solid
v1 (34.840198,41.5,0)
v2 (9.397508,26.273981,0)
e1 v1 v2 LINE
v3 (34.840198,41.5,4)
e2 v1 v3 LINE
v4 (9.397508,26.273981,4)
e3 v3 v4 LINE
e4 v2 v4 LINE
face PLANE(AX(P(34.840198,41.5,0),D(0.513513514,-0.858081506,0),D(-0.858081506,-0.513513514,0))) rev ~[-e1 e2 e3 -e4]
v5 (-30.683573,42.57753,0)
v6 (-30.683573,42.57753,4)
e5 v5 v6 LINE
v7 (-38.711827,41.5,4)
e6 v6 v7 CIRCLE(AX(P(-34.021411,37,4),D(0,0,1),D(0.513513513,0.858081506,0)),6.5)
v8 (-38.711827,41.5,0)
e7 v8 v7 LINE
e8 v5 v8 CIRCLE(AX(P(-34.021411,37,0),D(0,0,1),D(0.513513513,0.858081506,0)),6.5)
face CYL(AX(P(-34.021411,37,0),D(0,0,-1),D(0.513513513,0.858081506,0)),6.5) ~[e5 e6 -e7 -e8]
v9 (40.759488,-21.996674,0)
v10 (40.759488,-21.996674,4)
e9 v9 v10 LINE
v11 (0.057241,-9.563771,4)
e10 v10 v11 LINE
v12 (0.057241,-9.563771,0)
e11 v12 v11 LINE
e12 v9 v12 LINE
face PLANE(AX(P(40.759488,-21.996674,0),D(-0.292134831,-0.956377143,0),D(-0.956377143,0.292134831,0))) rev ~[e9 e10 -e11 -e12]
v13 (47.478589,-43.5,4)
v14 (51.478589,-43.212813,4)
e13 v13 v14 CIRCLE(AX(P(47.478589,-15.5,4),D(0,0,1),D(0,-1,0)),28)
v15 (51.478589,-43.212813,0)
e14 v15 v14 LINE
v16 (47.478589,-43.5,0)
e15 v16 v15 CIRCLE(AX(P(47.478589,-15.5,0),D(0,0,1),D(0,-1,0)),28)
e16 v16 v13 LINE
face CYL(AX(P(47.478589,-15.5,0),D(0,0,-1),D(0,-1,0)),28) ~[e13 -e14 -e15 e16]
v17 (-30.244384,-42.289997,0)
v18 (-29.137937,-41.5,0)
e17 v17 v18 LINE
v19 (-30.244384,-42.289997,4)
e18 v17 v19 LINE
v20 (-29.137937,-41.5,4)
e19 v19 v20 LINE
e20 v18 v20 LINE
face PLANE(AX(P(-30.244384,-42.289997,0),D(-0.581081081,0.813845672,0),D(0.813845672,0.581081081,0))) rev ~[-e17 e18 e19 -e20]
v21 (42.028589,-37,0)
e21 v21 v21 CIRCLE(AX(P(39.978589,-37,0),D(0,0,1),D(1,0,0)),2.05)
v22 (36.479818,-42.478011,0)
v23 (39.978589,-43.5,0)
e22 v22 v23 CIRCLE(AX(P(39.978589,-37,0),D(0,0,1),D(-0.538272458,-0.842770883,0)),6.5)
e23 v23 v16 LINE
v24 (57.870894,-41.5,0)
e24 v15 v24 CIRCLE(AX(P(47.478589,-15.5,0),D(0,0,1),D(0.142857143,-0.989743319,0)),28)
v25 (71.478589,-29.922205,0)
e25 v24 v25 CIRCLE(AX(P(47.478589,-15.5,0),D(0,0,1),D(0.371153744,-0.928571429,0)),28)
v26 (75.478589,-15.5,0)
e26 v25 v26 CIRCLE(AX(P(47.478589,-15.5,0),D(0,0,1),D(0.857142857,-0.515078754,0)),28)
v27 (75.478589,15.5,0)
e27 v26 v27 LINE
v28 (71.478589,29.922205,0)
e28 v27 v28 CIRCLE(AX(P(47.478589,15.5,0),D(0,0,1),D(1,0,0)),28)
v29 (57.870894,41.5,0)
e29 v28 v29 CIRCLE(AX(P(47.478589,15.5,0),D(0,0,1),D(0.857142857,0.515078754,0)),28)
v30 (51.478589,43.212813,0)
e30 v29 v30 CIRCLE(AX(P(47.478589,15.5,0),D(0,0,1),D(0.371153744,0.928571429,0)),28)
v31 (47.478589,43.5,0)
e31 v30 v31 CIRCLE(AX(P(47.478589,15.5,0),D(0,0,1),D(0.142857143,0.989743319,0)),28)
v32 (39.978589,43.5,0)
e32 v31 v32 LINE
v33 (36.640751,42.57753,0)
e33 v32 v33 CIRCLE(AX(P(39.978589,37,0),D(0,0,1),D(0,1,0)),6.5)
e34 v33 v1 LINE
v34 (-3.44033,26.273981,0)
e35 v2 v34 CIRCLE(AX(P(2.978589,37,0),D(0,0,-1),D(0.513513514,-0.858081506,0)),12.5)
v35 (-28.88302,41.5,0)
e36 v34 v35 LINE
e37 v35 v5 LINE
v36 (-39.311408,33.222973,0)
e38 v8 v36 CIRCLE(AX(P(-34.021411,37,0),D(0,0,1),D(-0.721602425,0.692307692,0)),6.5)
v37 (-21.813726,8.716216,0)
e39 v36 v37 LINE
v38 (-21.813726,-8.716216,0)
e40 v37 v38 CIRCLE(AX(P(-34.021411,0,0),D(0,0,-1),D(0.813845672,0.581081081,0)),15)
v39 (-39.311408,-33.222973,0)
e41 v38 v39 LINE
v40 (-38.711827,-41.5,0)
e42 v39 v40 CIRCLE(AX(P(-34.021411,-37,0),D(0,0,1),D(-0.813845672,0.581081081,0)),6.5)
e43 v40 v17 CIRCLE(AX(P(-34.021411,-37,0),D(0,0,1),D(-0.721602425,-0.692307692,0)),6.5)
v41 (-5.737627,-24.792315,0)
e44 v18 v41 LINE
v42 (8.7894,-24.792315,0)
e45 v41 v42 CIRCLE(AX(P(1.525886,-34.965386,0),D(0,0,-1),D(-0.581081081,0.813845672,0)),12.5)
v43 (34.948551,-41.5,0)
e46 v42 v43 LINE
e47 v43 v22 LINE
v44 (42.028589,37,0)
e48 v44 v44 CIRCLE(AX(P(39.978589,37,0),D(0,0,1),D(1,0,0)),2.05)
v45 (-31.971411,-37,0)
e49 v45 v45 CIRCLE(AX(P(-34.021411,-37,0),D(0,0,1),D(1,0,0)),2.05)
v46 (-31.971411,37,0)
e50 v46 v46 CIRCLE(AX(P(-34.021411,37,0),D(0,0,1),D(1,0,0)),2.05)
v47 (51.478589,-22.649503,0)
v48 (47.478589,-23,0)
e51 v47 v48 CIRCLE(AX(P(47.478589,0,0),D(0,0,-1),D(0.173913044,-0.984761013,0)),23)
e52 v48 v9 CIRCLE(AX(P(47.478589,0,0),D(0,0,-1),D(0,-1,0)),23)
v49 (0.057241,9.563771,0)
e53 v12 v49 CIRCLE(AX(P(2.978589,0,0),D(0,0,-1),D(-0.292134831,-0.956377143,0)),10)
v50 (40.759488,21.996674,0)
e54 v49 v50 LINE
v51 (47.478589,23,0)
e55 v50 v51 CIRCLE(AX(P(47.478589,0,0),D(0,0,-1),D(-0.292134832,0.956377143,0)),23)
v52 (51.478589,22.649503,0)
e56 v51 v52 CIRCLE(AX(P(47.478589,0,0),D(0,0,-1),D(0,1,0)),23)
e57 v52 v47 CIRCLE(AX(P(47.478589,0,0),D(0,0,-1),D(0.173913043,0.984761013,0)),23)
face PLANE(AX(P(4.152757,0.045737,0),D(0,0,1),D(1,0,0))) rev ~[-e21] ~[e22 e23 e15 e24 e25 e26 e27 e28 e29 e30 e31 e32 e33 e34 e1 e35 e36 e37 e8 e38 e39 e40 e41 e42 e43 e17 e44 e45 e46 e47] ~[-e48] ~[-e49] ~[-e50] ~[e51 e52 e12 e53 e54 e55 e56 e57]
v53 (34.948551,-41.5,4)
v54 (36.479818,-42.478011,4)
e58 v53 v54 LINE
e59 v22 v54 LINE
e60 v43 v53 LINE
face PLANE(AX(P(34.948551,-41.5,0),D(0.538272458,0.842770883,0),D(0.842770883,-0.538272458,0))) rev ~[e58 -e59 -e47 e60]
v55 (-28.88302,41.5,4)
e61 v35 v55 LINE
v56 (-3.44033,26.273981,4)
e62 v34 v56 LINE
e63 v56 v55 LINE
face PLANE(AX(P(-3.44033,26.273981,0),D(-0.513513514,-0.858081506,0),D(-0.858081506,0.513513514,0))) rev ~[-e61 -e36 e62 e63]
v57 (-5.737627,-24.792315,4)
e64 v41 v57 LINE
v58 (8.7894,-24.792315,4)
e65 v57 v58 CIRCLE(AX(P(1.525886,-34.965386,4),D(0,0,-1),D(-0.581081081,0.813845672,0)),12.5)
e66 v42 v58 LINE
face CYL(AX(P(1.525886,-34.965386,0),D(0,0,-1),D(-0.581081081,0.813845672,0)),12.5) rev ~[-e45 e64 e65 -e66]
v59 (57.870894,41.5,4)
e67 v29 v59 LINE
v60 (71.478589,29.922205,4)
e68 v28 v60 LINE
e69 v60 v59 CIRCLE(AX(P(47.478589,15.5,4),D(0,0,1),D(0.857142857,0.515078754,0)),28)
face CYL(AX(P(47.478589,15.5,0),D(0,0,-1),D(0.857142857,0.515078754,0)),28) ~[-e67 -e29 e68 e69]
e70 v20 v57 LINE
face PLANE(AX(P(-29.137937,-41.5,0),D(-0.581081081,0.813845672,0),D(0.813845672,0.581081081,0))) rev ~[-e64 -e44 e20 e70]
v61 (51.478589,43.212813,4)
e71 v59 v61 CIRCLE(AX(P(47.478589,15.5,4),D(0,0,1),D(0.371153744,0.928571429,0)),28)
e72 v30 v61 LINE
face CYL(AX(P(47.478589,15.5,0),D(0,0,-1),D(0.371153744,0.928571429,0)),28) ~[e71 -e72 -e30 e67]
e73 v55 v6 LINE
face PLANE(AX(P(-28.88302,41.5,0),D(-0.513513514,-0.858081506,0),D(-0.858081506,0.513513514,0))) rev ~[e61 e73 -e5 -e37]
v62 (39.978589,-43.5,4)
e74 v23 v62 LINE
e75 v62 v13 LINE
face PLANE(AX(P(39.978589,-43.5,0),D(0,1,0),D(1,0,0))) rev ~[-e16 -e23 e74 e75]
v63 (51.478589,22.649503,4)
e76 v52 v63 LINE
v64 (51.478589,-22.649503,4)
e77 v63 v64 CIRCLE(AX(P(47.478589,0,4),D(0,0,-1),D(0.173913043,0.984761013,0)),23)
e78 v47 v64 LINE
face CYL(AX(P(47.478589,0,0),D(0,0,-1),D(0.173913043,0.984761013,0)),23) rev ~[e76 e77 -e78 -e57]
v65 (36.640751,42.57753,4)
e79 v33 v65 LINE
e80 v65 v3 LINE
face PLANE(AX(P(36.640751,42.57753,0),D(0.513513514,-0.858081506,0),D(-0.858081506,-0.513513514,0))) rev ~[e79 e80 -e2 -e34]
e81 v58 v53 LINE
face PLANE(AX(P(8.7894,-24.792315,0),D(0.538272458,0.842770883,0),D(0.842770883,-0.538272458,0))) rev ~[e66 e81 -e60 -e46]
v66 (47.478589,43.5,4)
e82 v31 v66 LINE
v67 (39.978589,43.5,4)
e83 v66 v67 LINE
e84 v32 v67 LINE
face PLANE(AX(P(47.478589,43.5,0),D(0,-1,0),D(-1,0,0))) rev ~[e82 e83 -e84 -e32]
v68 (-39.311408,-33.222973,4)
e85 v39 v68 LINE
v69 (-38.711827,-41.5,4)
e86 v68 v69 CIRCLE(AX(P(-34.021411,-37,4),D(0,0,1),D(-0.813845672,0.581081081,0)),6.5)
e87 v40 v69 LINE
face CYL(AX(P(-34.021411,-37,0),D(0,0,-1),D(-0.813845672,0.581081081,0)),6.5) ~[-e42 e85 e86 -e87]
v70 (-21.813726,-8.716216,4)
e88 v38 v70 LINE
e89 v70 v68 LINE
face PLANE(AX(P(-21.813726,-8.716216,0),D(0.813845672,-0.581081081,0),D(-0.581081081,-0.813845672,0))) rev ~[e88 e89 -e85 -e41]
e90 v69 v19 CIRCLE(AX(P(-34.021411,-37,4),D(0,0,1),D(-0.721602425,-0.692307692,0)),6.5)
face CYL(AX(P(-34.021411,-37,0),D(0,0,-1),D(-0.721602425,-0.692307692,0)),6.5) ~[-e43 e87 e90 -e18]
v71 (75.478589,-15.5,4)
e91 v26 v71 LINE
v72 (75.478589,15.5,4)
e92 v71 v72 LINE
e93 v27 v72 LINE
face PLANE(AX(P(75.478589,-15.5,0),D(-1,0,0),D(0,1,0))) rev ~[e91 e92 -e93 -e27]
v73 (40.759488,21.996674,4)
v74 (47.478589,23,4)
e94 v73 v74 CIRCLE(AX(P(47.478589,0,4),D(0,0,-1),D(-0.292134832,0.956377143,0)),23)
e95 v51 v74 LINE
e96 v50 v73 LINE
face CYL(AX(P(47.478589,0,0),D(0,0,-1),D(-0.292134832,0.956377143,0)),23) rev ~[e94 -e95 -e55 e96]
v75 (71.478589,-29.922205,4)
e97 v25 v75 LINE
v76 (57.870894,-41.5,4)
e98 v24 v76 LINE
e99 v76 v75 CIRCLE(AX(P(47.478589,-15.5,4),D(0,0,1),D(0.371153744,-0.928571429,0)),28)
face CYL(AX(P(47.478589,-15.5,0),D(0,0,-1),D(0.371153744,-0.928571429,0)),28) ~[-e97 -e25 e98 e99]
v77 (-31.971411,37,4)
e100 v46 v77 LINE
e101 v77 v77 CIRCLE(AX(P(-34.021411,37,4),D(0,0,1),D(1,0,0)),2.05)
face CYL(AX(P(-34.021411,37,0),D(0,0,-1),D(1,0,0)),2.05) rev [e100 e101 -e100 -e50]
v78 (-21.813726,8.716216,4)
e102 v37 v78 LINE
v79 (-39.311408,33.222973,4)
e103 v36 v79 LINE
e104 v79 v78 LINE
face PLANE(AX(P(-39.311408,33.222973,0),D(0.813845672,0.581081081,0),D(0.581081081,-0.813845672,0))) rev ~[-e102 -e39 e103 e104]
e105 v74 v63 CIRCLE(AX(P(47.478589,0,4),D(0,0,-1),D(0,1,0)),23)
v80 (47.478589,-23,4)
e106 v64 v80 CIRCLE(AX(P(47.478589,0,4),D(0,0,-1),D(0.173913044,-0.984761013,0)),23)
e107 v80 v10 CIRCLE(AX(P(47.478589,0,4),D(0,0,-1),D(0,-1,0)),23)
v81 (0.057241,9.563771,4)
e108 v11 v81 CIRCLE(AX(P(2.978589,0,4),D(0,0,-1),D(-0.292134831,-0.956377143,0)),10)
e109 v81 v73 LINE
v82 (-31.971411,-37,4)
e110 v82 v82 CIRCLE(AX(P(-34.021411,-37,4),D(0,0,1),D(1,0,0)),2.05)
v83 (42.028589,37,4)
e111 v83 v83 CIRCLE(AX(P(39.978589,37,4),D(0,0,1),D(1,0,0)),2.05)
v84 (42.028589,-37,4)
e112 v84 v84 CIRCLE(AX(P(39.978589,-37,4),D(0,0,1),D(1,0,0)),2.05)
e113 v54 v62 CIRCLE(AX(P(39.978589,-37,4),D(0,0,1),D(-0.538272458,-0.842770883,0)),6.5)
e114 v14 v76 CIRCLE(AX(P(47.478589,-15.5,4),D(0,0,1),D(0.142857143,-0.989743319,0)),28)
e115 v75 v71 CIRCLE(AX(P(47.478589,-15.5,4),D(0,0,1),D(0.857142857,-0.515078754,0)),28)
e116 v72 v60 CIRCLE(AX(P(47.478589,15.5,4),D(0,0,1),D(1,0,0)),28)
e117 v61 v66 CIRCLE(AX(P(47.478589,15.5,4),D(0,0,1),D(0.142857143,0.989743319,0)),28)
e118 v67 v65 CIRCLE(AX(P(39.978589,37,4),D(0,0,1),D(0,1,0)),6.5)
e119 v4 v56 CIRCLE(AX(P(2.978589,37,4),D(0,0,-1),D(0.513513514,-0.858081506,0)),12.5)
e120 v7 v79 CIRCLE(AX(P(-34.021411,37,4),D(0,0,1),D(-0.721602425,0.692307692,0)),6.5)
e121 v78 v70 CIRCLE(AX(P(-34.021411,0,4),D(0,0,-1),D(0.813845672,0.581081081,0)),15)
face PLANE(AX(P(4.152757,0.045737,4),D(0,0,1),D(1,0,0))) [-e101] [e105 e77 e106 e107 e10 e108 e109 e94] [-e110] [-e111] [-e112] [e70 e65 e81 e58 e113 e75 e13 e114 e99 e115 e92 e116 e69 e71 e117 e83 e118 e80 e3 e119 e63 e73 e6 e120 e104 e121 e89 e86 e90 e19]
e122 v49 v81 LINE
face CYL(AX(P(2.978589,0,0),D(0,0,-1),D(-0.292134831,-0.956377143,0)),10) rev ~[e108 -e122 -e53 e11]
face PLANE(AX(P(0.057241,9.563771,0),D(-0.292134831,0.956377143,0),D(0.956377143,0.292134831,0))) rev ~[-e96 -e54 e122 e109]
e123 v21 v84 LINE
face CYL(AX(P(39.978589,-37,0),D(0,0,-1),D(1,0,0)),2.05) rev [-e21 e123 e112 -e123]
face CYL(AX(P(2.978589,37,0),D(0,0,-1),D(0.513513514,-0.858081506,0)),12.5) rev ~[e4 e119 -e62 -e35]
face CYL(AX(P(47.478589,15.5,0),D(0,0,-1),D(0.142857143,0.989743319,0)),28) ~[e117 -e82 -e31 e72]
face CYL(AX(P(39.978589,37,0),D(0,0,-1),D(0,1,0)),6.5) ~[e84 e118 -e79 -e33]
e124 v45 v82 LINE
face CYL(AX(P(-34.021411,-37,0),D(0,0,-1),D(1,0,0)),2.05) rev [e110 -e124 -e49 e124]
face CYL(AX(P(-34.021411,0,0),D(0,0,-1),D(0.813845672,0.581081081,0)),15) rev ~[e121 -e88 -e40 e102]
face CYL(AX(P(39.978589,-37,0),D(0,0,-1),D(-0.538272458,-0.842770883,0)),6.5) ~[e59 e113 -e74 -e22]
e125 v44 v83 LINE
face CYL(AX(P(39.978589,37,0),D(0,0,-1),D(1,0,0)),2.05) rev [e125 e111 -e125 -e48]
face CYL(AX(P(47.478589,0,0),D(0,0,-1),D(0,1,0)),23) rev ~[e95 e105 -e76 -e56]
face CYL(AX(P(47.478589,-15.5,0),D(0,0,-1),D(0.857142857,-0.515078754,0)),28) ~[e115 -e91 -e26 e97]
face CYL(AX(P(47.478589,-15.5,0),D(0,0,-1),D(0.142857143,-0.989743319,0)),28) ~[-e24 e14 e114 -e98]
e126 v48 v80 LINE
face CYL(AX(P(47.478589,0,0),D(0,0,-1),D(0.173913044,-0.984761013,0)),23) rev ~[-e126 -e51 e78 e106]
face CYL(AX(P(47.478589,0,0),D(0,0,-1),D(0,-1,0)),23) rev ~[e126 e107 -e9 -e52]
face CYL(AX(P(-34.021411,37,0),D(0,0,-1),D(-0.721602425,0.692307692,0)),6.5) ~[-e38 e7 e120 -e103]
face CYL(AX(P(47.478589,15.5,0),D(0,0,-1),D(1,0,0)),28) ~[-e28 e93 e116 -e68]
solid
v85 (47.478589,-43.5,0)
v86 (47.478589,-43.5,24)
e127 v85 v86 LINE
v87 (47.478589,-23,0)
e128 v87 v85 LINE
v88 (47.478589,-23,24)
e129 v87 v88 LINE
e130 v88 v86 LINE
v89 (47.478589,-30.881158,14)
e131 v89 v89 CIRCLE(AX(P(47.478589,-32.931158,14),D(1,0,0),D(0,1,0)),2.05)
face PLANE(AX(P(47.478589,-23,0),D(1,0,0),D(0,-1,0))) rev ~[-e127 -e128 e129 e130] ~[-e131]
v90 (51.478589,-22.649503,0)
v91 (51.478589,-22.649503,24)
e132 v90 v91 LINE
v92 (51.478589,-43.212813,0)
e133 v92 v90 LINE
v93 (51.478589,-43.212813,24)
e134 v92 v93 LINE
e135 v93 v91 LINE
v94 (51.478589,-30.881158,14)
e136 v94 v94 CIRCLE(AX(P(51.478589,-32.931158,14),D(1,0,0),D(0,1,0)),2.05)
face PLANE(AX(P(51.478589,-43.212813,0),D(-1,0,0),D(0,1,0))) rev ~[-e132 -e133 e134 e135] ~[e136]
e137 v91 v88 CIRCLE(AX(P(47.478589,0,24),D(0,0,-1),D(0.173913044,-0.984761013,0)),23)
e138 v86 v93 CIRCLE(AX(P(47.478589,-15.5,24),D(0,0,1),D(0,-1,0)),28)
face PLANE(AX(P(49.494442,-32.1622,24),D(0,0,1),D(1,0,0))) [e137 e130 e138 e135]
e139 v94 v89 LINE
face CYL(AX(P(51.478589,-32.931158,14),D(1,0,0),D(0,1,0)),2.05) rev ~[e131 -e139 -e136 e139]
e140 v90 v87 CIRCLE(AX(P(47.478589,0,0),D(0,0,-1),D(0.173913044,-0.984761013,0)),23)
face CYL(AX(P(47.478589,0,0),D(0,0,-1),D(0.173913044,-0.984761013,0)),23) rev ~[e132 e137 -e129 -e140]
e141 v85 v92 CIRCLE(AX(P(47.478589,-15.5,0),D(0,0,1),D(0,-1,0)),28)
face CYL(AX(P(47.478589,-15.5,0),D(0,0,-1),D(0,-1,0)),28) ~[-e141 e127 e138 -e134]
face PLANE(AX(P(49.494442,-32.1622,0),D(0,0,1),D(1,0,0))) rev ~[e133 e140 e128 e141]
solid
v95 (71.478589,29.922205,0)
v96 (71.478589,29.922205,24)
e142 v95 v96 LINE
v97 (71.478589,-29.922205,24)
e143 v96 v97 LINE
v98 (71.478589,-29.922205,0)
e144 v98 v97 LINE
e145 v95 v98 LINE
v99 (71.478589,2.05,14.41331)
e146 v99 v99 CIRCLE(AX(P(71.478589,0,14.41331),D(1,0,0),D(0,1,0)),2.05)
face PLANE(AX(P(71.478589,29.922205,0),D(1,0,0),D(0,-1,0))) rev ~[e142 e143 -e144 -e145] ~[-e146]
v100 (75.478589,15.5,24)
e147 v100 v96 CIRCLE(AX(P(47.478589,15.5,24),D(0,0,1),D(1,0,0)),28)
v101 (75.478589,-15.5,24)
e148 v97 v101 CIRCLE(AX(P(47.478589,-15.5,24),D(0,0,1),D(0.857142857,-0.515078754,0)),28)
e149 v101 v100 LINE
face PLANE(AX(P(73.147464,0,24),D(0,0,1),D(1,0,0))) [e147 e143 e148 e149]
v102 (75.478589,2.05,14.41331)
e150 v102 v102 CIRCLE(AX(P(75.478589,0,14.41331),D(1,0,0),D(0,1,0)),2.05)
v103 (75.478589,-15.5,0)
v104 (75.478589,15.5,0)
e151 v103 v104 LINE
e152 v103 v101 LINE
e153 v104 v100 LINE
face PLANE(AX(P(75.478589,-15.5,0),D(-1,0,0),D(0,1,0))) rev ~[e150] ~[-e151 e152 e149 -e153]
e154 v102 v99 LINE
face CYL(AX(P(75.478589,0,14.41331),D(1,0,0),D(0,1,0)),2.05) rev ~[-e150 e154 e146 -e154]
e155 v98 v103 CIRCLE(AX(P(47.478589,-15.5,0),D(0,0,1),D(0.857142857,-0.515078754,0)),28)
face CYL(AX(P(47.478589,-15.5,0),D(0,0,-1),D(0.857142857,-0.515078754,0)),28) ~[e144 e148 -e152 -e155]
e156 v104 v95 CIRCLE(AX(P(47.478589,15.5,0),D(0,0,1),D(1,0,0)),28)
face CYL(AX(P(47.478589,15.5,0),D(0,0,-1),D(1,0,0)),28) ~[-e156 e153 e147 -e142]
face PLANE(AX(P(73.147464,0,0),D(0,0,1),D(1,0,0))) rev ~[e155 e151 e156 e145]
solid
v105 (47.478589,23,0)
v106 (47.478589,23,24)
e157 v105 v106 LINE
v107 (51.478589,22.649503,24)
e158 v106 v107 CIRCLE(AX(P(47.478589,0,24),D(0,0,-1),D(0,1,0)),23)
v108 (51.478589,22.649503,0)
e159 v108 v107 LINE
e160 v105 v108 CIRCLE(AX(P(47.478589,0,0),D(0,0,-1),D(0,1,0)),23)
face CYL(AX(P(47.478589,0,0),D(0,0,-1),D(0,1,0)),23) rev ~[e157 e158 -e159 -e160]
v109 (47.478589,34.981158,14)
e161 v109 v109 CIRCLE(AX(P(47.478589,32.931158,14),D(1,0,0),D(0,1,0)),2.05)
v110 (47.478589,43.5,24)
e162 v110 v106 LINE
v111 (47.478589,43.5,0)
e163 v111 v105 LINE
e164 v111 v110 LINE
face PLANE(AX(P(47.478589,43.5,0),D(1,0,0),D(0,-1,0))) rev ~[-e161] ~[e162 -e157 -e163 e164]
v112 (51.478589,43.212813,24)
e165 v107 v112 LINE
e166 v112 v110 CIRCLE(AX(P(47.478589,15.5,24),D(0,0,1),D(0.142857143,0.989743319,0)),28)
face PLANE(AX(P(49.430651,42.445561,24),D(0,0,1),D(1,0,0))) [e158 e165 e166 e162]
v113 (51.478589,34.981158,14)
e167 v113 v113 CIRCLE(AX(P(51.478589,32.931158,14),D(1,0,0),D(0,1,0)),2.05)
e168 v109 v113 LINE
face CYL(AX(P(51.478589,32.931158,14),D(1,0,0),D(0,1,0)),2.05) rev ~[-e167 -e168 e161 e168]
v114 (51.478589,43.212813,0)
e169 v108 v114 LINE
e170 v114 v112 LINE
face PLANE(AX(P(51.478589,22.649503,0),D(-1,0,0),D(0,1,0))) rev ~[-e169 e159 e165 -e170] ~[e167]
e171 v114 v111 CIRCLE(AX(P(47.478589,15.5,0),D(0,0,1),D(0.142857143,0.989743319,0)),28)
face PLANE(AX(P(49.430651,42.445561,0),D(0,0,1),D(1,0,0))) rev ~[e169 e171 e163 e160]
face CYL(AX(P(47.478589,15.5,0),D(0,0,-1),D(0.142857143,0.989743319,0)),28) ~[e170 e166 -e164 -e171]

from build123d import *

# Parameters (mm, degrees)
F0_R     = 2.05
F1_DEPTH = 4
F2_DEPTH = 24
F3_R     = 2.05
F4_DEPTH = 4
F5_R     = 2.05
F6_DEPTH = 8


with BuildPart() as f1:
    # F0 (on Top) → F1 (new body)
    with BuildSketch(Plane.XY):
        with BuildLine():
            Line((-28.883019991, 41.5), (-38.7118267615, 41.5))
            ThreePointArc((-38.7118267615, 41.5), (-40.5044236613, 37.4696241641), (-39.3114078672, 33.222972973))
            Line((-39.3114078672, 33.222972973), (-21.8137259274, 8.7162162162))
            ThreePointArc((-21.8137259274, 8.7162162162), (-19.0214110017, 0), (-21.8137259274, -8.7162162162))
            Line((-21.8137259274, -8.7162162162), (-39.3114078672, -33.222972973))
            ThreePointArc((-39.3114078672, -33.222972973), (-40.5044236613, -37.4696241641), (-38.7118267615, -41.5))
            Line((-38.7118267615, -41.5), (-29.1379367842, -41.5))
            Line((-29.1379367842, -41.5), (-5.7376272179, -24.7923149257))
            ThreePointArc((-5.7376272179, -24.7923149257), (1.5258862956, -22.465385821), (8.7893998091, -24.7923149257))
            Line((8.7893998091, -24.7923149257), (34.9485507955, -41.5))
            Line((34.9485507955, -41.5), (47.4785889983, -41.5))
            Line((47.4785889983, -41.5), (47.4785889983, -23))
            ThreePointArc((47.4785889983, -23), (44.0817896822, -22.7477857034), (40.7594878747, -21.9966742961))
            Line((40.7594878747, -21.9966742961), (19.4785892543, -15.4962139126))
            Line((19.4785892543, -15.4962139126), (0.0572406837, -9.5637714331))
            ThreePointArc((0.0572406837, -9.5637714331), (-7.0214110017, 0), (0.0572406837, 9.5637714331))
            Line((0.0572406837, 9.5637714331), (19.4785892543, 15.4962139126))
            Line((19.4785892543, 15.4962139126), (40.7594878747, 21.9966742961))
            ThreePointArc((40.7594878747, 21.9966742961), (44.0817896822, 22.7477857034), (47.4785889983, 23))
            Line((47.4785889983, 23), (47.4785889983, 41.5))
            Line((47.4785889983, 41.5), (34.8401979877, 41.5))
            Line((34.8401979877, 41.5), (9.3975079172, 26.2739811714))
            ThreePointArc((9.3975079172, 26.2739811714), (2.9785889983, 24.5), (-3.4403299206, 26.2739811714))
            Line((-3.4403299206, 26.2739811714), (-28.883019991, 41.5))
        make_face()
        with Locations((-34.0214110017, -37)):
            Circle(F0_R, mode=Mode.SUBTRACT)
        with Locations((39.9785889983, -37)):
            Circle(F0_R, mode=Mode.SUBTRACT)
        with Locations((-34.0214110017, 37)):
            Circle(F0_R, mode=Mode.SUBTRACT)
        with Locations((39.9785889983, 37)):
            Circle(F0_R, mode=Mode.SUBTRACT)
        with BuildLine():
            ThreePointArc((-30.6835731638, 42.5775297909), (-34.8860695304, 43.4422329691), (-38.7118267615, 41.5))
            Line((-38.7118267615, 41.5), (-28.883019991, 41.5))
            Line((-28.883019991, 41.5), (-30.6835731638, 42.5775297909))
        make_face()
        with BuildLine():
            Line((-29.1379367842, -41.5), (-38.7118267615, -41.5))
            ThreePointArc((-38.7118267615, -41.5), (-34.62522679, -43.4718935787), (-30.2443839747, -42.2899968655))
            Line((-30.2443839747, -42.2899968655), (-29.1379367842, -41.5))
        make_face()
        with BuildLine():
            Line((36.6407511605, 42.5775297909), (34.8401979877, 41.5))
            Line((34.8401979877, 41.5), (47.4785889983, 41.5))
            Line((47.4785889983, 41.5), (47.4785889983, 43.5))
            Line((47.4785889983, 43.5), (39.9785889983, 43.5))
            ThreePointArc((39.9785889983, 43.5), (38.2471074998, 43.2651394095), (36.6407511605, 42.5775297909))
        make_face()
        with BuildLine():
            Line((47.4785889983, 43.5), (47.4785889983, 41.5))
            Line((47.4785889983, 41.5), (51.4785889983, 41.5))
            Line((51.4785889983, 41.5), (51.4785889983, 43.2128129211))
            ThreePointArc((51.4785889983, 43.2128129211), (49.4837371486, 43.4281109439), (47.4785889983, 43.5))
        make_face()
        with BuildLine():
            Line((51.4785889983, 41.5), (47.4785889983, 41.5))
            Line((47.4785889983, 41.5), (47.4785889983, 23))
            ThreePointArc((47.4785889983, 23), (49.4862523125, 22.9122082746), (51.4785889983, 22.6495033058))
            Line((51.4785889983, 22.6495033058), (51.4785889983, 41.5))
        make_face()
        with BuildLine():
            Line((57.8708938437, 41.5), (51.4785889983, 41.5))
            Line((51.4785889983, 41.5), (51.4785889983, 22.6495033058))
            ThreePointArc((51.4785889983, 22.6495033058), (70.4785889983, 0), (51.4785889983, -22.6495033058))
            Line((51.4785889983, -22.6495033058), (51.4785889983, -41.5))
            Line((51.4785889983, -41.5), (57.8708938437, -41.5))
            ThreePointArc((57.8708938437, -41.5), (65.6229818463, -36.8255951424), (71.4785889983, -29.9222051019))
            Line((71.4785889983, -29.9222051019), (71.4785889983, 29.9222051019))
            ThreePointArc((71.4785889983, 29.9222051019), (65.6229818463, 36.8255951424), (57.8708938437, 41.5))
        make_face()
        with BuildLine():
            Line((51.4785889983, 43.2128129211), (51.4785889983, 41.5))
            Line((51.4785889983, 41.5), (57.8708938437, 41.5))
            ThreePointArc((57.8708938437, 41.5), (54.7255222612, 42.5459231361), (51.4785889983, 43.2128129211))
        make_face()
        with BuildLine():
            ThreePointArc((75.4785889983, 15.5), (74.4600641248, 22.9833147735), (71.4785889983, 29.9222051019))
            Line((71.4785889983, 29.9222051019), (71.4785889983, -29.9222051019))
            ThreePointArc((71.4785889983, -29.9222051019), (74.4600641248, -22.9833147735), (75.4785889983, -15.5))
            Line((75.4785889983, -15.5), (75.4785889983, 15.5))
        make_face()
        with BuildLine():
            Line((47.4785889983, -23), (47.4785889983, -41.5))
            Line((47.4785889983, -41.5), (51.4785889983, -41.5))
            Line((51.4785889983, -41.5), (51.4785889983, -22.6495033058))
            ThreePointArc((51.4785889983, -22.6495033058), (49.4862523125, -22.9122082746), (47.4785889983, -23))
        make_face()
        with BuildLine():
            Line((57.8708938437, -41.5), (51.4785889983, -41.5))
            Line((51.4785889983, -41.5), (51.4785889983, -43.2128129211))
            ThreePointArc((51.4785889983, -43.2128129211), (54.7255222612, -42.5459231361), (57.8708938437, -41.5))
        make_face()
        with BuildLine():
            Line((51.4785889983, -41.5), (47.4785889983, -41.5))
            Line((47.4785889983, -41.5), (47.4785889983, -43.5))
            ThreePointArc((47.4785889983, -43.5), (49.4837371486, -43.4281109439), (51.4785889983, -43.2128129211))
            Line((51.4785889983, -43.2128129211), (51.4785889983, -41.5))
        make_face()
        with BuildLine():
            Line((47.4785889983, -41.5), (34.9485507955, -41.5))
            Line((34.9485507955, -41.5), (36.4798180214, -42.4780107385))
            ThreePointArc((36.4798180214, -42.4780107385), (38.1561002878, -43.2392735875), (39.9785889983, -43.5))
            Line((39.9785889983, -43.5), (47.4785889983, -43.5))
            Line((47.4785889983, -43.5), (47.4785889983, -41.5))
        make_face()
    extrude(amount=F1_DEPTH)


with BuildPart() as f2:
    # F0 (on Top) → F2 (new body)
    with BuildSketch(Plane.XY):
        with BuildLine():
            Line((47.4785889983, 43.5), (47.4785889983, 41.5))
            Line((47.4785889983, 41.5), (51.4785889983, 41.5))
            Line((51.4785889983, 41.5), (51.4785889983, 43.2128129211))
            ThreePointArc((51.4785889983, 43.2128129211), (49.4837371486, 43.4281109439), (47.4785889983, 43.5))
        make_face()
        with BuildLine():
            Line((51.4785889983, 41.5), (47.4785889983, 41.5))
            Line((47.4785889983, 41.5), (47.4785889983, 23))
            ThreePointArc((47.4785889983, 23), (49.4862523125, 22.9122082746), (51.4785889983, 22.6495033058))
            Line((51.4785889983, 22.6495033058), (51.4785889983, 41.5))
        make_face()
    extrude(amount=F2_DEPTH)


with BuildPart() as f2b:
    # F0 (on Top) → F2, piece 2 (new body)
    with BuildSketch(Plane.XY):
        with BuildLine():
            ThreePointArc((75.4785889983, 15.5), (74.4600641248, 22.9833147735), (71.4785889983, 29.9222051019))
            Line((71.4785889983, 29.9222051019), (71.4785889983, -29.9222051019))
            ThreePointArc((71.4785889983, -29.9222051019), (74.4600641248, -22.9833147735), (75.4785889983, -15.5))
            Line((75.4785889983, -15.5), (75.4785889983, 15.5))
        make_face()
    extrude(amount=F2_DEPTH)

    # F5 (on face) → F6 (cut)
    with BuildSketch(Plane.YZ.offset(75.4785889983)):
        with Locations((0, 14.4133102149)):
            Circle(F5_R)
    extrude(amount=-F6_DEPTH, mode=Mode.SUBTRACT)


with BuildPart() as f2c:
    # F0 (on Top) → F2, piece 3 (new body)
    with BuildSketch(Plane.XY):
        with BuildLine():
            Line((47.4785889983, -23), (47.4785889983, -41.5))
            Line((47.4785889983, -41.5), (51.4785889983, -41.5))
            Line((51.4785889983, -41.5), (51.4785889983, -22.6495033058))
            ThreePointArc((51.4785889983, -22.6495033058), (49.4862523125, -22.9122082746), (47.4785889983, -23))
        make_face()
        with BuildLine():
            Line((51.4785889983, -41.5), (47.4785889983, -41.5))
            Line((47.4785889983, -41.5), (47.4785889983, -43.5))
            ThreePointArc((47.4785889983, -43.5), (49.4837371486, -43.4281109439), (51.4785889983, -43.2128129211))
            Line((51.4785889983, -43.2128129211), (51.4785889983, -41.5))
        make_face()
    extrude(amount=F2_DEPTH)


with BuildPart() as f4_tool:
    # F3 (on face) → F4 (new body, symmetric)
    with BuildSketch(Plane.YZ.offset(51.4785889983)):
        with Locations((-32.9311581135, 14)):
            Circle(F3_R)
        with Locations((32.9311581135, 14)):
            Circle(F3_R)
    extrude(amount=F4_DEPTH, both=True)


with BuildPart() as f2_1:
    add(f2.part)

    # F4: cut by f4_tool
    add(f4_tool.part, mode=Mode.SUBTRACT)


with BuildPart() as f2c_1:
    add(f2c.part)

    # F4: cut by f4_tool
    add(f4_tool.part, mode=Mode.SUBTRACT)


solid = Compound([f1.part, f2b.part, f2_1.part, f2c_1.part])
